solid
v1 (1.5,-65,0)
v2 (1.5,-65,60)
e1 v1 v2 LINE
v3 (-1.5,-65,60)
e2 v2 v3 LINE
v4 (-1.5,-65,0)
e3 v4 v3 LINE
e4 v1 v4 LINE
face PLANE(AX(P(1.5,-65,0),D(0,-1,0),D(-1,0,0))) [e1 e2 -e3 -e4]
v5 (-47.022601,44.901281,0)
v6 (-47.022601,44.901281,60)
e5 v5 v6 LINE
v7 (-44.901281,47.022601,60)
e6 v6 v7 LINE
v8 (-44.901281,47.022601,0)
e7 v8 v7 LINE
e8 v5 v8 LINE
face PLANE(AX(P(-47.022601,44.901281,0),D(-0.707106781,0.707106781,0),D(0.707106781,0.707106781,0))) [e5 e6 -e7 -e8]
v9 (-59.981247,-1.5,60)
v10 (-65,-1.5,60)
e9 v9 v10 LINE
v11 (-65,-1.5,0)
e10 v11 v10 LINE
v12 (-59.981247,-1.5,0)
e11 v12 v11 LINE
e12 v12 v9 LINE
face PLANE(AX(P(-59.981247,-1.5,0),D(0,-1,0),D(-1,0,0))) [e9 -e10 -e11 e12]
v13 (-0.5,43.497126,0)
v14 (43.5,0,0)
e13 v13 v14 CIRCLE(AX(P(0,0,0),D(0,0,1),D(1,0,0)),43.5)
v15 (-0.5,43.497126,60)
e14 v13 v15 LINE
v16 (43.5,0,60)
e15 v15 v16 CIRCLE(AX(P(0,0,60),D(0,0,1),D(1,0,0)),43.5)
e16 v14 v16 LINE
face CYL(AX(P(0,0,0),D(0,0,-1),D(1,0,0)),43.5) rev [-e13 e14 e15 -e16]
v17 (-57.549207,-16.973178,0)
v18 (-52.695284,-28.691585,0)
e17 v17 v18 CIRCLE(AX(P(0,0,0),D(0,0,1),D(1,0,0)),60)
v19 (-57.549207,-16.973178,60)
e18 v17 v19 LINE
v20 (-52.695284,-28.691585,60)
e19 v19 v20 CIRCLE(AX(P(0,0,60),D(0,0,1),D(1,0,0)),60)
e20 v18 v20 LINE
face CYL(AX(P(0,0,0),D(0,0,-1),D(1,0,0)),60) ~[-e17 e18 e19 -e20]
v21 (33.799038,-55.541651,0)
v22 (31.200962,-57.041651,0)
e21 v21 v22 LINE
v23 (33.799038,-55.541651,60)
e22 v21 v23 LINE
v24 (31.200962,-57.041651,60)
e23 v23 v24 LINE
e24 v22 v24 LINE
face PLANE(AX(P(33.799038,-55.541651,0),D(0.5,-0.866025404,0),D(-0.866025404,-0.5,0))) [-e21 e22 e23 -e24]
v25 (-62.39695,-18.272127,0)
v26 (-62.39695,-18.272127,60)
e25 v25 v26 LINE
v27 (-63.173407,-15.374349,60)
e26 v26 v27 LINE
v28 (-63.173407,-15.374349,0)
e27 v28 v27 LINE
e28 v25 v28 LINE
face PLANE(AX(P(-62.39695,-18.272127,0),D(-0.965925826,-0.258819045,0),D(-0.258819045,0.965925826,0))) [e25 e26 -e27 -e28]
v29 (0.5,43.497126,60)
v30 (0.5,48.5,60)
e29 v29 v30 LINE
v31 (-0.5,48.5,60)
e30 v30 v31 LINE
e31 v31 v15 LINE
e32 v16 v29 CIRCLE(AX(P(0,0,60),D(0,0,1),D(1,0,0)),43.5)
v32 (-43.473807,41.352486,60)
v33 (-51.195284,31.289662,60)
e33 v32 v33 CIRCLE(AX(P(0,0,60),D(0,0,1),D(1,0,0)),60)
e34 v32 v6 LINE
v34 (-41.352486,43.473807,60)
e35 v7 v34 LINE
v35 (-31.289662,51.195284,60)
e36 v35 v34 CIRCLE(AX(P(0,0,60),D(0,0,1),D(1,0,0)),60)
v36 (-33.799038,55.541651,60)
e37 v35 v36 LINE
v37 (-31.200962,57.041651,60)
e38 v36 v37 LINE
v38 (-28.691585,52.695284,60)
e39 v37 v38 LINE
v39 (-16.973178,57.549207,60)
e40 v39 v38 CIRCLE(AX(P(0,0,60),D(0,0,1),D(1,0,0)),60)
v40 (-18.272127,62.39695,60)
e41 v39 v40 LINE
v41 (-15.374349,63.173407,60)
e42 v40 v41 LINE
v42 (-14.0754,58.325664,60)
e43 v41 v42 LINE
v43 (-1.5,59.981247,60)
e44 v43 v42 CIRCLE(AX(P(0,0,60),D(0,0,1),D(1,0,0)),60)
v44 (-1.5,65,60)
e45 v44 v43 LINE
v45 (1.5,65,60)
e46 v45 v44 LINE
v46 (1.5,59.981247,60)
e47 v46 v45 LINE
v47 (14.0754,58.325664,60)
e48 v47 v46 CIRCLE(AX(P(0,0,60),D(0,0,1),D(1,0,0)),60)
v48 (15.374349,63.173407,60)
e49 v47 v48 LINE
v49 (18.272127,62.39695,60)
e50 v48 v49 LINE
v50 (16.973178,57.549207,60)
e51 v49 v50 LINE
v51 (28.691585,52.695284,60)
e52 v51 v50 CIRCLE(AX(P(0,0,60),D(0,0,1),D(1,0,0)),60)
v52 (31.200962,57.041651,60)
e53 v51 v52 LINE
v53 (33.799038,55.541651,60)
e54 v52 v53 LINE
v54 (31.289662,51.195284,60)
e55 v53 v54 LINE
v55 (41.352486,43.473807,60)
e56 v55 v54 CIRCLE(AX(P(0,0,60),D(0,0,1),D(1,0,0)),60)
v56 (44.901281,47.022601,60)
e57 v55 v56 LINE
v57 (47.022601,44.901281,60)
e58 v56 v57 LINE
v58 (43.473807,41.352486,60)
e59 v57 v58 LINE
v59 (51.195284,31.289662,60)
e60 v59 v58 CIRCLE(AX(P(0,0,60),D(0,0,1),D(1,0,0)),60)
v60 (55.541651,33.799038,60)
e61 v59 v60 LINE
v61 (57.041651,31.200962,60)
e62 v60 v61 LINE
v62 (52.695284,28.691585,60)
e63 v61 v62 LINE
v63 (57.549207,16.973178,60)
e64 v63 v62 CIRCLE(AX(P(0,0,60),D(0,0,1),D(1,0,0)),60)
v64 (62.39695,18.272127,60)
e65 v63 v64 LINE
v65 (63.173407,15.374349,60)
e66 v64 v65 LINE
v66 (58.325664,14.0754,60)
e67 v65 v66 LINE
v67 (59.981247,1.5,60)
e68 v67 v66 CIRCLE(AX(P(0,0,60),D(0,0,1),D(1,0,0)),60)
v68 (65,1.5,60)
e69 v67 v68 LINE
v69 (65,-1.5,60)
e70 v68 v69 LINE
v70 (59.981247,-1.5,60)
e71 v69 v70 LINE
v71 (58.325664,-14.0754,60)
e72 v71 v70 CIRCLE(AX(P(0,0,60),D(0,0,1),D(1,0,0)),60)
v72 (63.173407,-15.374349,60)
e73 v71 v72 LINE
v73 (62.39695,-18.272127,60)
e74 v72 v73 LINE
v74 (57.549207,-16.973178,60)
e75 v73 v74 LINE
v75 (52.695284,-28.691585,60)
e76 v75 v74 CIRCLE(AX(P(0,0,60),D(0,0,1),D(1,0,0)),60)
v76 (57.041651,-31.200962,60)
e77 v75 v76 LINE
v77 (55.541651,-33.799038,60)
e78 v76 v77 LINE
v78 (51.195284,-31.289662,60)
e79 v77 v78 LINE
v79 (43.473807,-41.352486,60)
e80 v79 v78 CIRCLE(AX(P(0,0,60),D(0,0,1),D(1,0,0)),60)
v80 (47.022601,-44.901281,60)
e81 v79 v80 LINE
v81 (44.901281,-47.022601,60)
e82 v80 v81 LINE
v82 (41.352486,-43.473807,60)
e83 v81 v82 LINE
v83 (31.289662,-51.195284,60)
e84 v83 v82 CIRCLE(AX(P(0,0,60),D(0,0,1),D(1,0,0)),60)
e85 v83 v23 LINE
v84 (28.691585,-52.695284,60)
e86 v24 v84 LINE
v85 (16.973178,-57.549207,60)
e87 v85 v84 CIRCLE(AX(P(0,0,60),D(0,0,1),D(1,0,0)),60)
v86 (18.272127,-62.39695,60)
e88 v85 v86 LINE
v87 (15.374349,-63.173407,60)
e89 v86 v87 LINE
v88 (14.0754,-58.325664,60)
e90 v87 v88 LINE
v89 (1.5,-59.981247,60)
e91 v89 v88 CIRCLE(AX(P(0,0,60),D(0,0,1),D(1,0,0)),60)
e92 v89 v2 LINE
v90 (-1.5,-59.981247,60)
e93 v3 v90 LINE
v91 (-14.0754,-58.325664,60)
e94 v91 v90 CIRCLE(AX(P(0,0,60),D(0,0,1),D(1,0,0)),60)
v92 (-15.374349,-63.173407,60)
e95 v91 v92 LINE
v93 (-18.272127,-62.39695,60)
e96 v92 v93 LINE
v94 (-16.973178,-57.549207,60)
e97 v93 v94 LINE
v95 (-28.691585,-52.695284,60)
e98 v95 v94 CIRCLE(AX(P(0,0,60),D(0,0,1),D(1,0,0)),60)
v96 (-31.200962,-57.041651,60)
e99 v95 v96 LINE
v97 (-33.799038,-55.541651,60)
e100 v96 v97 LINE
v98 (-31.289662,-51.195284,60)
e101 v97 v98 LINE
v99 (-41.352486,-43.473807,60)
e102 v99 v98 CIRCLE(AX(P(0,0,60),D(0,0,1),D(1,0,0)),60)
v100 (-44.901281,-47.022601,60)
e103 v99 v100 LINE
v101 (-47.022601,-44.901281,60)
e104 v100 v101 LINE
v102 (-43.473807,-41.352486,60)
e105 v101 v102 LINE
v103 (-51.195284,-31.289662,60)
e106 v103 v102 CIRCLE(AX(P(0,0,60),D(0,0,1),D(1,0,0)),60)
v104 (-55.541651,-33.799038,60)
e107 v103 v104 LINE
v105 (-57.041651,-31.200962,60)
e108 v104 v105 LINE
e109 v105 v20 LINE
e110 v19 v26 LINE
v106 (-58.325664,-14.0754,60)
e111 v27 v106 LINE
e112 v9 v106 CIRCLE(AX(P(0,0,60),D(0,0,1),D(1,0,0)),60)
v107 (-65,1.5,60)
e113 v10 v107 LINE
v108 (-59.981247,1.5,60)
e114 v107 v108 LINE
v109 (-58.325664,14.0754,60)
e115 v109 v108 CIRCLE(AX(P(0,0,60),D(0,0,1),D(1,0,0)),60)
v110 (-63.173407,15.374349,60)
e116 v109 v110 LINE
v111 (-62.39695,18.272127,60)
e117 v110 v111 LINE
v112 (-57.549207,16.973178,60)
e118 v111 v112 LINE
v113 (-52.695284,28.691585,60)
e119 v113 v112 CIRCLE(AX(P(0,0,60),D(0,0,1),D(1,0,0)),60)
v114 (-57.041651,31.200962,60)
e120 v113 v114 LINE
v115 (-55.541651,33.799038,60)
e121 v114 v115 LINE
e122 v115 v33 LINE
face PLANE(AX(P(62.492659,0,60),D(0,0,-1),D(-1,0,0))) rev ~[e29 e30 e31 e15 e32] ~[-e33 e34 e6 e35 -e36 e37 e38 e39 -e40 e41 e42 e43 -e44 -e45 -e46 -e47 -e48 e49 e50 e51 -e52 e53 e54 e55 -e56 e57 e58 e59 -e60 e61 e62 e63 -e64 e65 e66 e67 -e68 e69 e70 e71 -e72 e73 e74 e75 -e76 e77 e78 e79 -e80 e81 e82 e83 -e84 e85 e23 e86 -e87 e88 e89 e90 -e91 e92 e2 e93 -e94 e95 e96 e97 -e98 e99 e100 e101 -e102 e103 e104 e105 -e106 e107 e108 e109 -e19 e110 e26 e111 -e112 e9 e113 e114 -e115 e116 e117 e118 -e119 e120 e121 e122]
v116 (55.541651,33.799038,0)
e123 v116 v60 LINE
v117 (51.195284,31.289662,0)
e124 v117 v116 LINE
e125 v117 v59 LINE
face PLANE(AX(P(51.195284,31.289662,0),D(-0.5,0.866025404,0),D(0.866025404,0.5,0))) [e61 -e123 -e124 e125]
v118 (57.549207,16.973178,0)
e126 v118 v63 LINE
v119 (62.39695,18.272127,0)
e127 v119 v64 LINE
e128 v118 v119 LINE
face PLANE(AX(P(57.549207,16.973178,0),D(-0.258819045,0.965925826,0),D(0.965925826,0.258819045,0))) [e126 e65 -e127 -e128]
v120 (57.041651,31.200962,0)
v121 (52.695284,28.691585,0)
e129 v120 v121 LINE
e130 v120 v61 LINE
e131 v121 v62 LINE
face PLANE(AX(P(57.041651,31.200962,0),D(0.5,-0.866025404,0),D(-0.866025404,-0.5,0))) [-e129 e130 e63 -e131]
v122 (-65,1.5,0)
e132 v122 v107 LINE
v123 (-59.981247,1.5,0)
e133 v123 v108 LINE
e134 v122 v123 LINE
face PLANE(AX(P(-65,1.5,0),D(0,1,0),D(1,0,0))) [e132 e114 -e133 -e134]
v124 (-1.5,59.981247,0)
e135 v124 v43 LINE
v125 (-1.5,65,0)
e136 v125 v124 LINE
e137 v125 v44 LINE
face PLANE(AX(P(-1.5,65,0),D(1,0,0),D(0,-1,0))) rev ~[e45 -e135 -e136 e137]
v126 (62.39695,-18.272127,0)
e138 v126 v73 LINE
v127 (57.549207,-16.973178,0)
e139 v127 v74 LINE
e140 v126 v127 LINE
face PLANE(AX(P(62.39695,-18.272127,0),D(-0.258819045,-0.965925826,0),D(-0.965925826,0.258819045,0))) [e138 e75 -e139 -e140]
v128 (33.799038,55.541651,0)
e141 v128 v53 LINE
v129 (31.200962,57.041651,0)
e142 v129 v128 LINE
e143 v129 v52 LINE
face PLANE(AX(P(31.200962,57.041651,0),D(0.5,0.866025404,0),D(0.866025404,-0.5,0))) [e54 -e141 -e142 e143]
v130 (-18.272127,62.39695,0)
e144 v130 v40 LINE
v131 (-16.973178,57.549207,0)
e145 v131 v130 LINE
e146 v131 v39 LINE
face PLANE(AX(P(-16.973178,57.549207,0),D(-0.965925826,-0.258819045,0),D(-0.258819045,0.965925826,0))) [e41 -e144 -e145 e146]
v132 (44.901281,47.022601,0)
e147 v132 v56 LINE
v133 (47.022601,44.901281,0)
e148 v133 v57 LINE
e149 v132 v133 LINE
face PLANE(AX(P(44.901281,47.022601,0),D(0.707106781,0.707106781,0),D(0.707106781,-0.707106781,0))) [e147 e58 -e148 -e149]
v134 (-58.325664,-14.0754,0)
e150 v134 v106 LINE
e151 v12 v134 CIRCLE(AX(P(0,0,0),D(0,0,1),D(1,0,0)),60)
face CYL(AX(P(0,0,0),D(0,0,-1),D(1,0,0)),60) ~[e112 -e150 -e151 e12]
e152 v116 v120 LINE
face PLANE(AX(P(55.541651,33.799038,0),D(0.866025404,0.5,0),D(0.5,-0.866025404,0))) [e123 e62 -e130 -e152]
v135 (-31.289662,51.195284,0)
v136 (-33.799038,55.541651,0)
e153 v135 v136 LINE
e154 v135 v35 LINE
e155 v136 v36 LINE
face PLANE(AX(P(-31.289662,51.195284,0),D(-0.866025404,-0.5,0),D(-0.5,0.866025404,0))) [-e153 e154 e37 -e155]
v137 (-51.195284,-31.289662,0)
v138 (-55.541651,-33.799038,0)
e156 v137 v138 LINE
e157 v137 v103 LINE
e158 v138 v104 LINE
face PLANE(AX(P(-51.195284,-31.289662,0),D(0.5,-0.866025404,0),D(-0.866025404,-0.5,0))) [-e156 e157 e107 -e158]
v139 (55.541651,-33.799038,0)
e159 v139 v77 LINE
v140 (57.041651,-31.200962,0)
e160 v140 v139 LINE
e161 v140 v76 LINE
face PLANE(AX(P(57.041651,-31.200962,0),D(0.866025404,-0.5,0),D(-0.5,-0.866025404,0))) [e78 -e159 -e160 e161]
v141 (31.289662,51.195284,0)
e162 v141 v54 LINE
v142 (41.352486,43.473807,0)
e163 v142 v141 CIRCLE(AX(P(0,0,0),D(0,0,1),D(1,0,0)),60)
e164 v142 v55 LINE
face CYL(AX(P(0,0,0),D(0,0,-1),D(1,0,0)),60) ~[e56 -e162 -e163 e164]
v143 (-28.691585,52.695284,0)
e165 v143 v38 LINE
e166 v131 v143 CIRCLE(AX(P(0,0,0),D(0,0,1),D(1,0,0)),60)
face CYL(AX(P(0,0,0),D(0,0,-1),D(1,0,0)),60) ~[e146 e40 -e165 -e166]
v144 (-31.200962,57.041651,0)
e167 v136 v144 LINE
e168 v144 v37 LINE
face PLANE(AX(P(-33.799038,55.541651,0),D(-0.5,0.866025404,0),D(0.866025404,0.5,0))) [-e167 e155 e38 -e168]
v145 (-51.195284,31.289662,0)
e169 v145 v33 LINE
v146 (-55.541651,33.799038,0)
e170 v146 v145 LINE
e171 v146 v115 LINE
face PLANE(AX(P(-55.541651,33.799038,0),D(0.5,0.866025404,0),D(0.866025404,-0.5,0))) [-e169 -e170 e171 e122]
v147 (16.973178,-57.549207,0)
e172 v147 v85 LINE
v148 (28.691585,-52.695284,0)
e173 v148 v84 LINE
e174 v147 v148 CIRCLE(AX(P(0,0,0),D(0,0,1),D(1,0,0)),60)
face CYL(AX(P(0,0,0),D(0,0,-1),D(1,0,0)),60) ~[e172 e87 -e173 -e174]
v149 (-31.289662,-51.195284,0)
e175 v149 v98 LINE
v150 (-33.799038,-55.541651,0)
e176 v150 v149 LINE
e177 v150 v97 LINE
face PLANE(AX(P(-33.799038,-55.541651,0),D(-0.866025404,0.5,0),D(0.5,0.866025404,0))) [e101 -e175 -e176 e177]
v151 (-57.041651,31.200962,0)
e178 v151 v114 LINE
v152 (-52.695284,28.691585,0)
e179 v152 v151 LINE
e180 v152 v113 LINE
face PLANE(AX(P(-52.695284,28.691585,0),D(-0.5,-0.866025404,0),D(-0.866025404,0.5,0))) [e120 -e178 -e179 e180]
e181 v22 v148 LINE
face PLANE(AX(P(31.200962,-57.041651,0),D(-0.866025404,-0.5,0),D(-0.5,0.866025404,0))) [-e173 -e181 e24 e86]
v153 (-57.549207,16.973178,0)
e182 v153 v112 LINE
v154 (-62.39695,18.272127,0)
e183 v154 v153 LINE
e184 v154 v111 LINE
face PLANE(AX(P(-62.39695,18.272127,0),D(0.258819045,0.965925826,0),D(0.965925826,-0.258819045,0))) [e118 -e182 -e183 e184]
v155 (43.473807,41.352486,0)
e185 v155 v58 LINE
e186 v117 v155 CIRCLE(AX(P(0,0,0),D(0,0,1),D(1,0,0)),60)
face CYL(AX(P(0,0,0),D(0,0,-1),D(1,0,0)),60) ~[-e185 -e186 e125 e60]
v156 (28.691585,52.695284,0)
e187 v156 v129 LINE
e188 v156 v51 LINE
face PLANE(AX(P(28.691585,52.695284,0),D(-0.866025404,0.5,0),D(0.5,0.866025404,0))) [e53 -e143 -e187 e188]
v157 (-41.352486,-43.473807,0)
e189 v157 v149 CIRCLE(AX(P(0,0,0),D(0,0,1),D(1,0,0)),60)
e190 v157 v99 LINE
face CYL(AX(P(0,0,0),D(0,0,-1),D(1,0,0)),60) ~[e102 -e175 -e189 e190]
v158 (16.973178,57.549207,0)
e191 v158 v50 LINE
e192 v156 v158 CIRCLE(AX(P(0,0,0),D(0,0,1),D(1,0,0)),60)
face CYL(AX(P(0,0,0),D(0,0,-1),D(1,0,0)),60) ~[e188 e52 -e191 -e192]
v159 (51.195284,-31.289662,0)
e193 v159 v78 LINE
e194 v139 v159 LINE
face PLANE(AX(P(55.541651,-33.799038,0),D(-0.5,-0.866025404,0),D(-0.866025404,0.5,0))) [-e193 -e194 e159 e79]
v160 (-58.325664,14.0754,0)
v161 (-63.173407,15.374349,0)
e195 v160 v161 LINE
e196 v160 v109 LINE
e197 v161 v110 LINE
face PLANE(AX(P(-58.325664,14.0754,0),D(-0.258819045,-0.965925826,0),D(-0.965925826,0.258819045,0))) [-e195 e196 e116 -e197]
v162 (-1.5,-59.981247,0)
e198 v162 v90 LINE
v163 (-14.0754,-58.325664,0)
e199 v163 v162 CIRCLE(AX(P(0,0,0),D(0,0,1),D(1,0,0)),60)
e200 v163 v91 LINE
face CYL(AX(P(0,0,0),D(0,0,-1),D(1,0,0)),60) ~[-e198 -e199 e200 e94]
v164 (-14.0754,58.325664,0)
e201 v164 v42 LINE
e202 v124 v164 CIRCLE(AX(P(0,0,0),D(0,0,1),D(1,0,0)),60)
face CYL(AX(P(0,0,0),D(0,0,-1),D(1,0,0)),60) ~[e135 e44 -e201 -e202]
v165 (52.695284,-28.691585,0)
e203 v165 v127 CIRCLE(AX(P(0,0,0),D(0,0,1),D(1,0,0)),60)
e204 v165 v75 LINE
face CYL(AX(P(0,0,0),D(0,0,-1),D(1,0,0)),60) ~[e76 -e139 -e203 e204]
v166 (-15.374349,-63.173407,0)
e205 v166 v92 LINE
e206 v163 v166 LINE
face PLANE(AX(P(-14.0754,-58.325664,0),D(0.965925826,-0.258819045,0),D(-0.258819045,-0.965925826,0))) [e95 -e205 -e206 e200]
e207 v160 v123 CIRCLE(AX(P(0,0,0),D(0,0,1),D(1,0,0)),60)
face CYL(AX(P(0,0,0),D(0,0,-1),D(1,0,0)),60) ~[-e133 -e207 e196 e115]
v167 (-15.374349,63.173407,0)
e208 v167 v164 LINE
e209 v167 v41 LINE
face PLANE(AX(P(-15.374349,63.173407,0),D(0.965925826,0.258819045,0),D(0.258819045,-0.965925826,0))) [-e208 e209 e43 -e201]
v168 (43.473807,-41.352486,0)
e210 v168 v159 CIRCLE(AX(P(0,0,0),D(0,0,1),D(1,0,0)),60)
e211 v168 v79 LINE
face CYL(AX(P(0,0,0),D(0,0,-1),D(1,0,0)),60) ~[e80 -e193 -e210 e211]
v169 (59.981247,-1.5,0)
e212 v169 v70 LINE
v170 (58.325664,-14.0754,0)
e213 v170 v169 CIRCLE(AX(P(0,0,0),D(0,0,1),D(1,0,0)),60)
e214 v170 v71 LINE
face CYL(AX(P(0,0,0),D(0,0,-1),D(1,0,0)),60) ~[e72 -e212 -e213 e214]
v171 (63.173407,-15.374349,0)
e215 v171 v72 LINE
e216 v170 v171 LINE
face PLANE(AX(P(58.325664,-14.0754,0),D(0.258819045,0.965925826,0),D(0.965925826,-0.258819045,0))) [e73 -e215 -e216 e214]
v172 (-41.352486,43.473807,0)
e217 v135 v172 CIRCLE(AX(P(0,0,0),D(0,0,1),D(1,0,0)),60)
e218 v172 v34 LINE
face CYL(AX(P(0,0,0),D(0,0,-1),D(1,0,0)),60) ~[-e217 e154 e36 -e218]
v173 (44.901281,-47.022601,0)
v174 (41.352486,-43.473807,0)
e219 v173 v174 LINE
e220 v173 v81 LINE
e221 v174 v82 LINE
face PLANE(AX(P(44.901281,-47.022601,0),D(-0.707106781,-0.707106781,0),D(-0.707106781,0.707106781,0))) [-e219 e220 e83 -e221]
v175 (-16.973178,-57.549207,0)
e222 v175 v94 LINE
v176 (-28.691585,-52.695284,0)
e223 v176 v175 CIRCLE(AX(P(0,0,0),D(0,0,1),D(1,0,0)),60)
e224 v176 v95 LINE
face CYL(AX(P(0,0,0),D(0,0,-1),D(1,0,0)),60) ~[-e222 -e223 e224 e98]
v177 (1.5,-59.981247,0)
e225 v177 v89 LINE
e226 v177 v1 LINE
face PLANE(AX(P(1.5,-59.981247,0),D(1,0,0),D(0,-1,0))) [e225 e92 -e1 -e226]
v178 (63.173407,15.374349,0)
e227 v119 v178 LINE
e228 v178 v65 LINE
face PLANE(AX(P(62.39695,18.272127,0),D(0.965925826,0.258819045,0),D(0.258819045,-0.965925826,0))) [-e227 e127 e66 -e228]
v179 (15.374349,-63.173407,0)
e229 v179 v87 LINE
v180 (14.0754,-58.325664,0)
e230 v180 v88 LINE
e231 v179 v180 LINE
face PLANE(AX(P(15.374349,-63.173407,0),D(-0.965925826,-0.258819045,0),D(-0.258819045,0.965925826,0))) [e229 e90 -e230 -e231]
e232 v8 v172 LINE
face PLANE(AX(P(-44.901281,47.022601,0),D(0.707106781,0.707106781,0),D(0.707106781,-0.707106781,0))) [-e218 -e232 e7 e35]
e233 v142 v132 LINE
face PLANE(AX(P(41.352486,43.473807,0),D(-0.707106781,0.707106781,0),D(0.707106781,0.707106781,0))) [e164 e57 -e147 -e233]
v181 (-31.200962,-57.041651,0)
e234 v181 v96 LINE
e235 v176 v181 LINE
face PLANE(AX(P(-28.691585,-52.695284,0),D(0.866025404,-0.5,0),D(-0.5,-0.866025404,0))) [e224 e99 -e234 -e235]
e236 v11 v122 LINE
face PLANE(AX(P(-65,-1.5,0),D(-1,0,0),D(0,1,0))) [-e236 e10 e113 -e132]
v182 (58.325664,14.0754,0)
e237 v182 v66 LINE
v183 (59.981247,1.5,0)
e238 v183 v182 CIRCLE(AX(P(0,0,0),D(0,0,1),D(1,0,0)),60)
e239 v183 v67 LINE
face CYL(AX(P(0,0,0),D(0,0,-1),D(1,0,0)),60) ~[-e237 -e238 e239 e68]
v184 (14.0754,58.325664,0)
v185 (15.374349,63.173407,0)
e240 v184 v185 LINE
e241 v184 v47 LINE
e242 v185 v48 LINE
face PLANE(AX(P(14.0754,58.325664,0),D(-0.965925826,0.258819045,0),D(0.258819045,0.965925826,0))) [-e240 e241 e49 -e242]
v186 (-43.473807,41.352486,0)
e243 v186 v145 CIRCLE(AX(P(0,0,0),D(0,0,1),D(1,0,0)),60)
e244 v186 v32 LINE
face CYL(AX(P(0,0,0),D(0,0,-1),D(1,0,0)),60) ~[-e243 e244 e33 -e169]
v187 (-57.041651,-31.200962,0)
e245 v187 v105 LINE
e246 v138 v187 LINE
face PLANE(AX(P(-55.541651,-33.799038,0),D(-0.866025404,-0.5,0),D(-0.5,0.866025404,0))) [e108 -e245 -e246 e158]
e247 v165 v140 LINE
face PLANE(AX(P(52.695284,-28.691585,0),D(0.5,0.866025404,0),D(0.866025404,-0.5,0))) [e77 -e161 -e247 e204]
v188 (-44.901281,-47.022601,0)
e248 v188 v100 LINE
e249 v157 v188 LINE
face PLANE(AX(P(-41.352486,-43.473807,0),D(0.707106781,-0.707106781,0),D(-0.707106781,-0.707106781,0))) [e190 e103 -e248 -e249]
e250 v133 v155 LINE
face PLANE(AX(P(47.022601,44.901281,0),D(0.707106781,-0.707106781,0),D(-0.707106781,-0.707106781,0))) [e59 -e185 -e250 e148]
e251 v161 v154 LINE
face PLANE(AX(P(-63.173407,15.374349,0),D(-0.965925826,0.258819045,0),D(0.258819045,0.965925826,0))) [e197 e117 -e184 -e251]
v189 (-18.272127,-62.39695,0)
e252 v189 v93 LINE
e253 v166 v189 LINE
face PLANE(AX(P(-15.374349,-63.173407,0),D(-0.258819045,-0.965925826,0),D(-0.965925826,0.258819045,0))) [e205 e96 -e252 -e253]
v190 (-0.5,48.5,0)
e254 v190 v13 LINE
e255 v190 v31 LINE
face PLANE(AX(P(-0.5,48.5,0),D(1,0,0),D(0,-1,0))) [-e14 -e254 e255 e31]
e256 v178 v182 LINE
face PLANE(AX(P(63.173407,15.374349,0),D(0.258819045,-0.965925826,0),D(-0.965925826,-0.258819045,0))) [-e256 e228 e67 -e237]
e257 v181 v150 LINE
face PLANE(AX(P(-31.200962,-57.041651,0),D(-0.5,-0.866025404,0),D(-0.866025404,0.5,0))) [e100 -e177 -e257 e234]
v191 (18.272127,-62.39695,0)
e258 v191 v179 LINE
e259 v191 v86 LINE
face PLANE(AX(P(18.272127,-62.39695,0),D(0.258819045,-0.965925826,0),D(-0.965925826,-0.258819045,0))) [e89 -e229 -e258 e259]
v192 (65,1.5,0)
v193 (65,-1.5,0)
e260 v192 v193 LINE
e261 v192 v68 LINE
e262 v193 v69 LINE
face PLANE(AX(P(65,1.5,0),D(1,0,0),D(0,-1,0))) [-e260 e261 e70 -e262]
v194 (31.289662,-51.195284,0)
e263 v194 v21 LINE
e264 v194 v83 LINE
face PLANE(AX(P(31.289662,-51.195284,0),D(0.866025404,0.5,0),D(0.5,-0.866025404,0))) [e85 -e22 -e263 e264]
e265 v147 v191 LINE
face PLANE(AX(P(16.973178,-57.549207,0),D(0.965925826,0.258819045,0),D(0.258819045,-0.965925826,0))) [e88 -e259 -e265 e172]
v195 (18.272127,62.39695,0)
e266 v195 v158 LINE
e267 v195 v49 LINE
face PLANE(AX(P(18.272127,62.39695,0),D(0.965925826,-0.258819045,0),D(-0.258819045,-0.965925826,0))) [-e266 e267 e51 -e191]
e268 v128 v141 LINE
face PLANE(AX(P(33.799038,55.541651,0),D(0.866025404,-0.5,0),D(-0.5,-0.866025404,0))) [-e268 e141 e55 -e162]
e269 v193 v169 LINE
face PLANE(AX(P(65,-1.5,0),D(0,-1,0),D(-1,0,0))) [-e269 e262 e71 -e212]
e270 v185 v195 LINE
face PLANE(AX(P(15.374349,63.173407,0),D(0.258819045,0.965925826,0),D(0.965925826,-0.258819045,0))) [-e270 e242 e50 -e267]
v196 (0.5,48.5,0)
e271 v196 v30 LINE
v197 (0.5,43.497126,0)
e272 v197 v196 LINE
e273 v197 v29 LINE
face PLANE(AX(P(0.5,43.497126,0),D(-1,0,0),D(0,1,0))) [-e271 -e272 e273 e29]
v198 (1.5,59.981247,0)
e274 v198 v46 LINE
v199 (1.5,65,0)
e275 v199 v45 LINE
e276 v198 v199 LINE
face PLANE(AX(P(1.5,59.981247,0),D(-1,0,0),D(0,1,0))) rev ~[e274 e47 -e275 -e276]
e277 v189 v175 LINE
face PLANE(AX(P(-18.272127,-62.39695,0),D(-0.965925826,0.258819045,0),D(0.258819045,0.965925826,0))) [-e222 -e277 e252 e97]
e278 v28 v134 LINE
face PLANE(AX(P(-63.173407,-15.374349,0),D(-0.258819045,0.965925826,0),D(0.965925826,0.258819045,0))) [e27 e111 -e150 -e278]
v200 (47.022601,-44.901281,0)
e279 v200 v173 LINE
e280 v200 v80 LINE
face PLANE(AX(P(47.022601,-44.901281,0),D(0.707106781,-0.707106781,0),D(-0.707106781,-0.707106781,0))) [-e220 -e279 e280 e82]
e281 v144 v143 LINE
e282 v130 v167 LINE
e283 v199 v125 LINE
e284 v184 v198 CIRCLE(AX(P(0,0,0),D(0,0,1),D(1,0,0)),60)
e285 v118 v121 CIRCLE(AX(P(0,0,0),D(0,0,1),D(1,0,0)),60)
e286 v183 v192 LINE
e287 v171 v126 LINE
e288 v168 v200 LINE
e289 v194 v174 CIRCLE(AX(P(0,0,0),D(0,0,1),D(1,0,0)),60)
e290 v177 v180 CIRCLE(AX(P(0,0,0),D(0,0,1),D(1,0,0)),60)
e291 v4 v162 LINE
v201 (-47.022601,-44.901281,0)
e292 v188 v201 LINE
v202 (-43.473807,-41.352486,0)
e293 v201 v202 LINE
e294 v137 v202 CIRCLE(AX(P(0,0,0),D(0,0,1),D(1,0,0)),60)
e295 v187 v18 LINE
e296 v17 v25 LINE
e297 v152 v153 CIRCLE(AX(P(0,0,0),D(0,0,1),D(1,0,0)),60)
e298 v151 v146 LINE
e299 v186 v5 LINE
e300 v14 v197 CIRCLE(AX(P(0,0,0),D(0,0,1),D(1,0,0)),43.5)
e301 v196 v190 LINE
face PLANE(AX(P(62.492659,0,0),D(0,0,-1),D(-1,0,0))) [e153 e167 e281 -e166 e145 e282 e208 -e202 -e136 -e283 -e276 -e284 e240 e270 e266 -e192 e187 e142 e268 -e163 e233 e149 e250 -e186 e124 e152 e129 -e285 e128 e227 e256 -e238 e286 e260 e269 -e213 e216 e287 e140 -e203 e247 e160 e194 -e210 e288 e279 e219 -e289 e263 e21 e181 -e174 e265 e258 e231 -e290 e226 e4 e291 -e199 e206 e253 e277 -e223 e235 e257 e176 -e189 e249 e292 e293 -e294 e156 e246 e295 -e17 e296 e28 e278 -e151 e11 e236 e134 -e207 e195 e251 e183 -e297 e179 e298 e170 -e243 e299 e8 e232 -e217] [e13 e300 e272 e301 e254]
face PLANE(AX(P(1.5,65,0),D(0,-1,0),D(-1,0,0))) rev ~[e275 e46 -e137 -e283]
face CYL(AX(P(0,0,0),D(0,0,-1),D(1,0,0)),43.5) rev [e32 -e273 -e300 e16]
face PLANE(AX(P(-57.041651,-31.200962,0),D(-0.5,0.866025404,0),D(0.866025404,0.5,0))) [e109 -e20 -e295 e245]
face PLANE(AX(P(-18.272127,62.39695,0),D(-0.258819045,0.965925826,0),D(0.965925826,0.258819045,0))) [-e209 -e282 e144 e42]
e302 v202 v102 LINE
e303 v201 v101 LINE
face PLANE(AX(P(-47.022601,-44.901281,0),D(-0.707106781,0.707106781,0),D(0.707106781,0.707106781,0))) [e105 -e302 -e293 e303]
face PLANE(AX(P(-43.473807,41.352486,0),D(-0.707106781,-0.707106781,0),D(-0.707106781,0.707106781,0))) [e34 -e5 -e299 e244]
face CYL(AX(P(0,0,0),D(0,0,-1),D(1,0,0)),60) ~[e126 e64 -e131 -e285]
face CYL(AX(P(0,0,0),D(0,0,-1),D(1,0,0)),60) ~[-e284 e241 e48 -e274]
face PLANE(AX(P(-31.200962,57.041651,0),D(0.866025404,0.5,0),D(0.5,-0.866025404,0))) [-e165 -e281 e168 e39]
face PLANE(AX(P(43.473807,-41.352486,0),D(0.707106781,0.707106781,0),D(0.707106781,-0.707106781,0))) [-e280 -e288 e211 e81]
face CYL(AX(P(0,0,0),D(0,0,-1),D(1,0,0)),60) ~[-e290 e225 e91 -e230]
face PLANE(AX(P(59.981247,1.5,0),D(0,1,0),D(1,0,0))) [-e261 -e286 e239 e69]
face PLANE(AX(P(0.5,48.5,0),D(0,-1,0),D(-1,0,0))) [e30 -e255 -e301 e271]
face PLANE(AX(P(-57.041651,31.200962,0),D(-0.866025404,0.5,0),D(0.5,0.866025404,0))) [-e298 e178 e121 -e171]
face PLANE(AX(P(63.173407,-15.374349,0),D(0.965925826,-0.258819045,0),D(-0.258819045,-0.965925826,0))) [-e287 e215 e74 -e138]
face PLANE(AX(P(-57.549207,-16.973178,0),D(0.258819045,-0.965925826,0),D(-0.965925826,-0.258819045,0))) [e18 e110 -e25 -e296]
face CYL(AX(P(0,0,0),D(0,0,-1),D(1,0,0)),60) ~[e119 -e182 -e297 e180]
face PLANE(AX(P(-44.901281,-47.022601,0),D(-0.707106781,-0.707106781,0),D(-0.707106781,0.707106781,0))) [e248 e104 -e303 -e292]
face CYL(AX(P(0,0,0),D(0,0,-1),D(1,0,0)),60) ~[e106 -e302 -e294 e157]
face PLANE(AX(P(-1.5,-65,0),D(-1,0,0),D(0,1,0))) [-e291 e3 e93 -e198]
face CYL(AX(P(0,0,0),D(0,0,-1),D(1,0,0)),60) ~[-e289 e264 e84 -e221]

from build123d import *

# Parameters (mm, degrees)
SKETCH1_R           = 60
SKETCH1_R_2         = 43.5
EXTRUSION1_DEPTH    = 60
EXTRUSION3_START    = -60
EXTRUSION3_DEPTH    = 60
BOSS_EXTRUDE1_START = -60
BOSS_EXTRUDE1_DEPTH = 60


with BuildPart() as part:
    # Sketch1 → Extrusion1 (new body)
    with BuildSketch(Plane.XY):
        Circle(SKETCH1_R)
        Circle(SKETCH1_R_2, mode=Mode.SUBTRACT)
    extrude(amount=EXTRUSION1_DEPTH)

    # Sketch3 → Extrusion3 (cut)
    with BuildSketch(Plane.XY.offset(60).offset(EXTRUSION3_START)):
        with BuildLine():
            Line((-0.5, 48.5), (-0.5, 43.497126342))
            ThreePointArc((-0.5, 43.497126342), (0, 43.5), (0.5, 43.497126342))
            Line((0.5, 43.497126342), (0.5, 48.5))
            Line((0.5, 48.5), (-0.5, 48.5))
        make_face()
    extrude(amount=EXTRUSION3_DEPTH, mode=Mode.SUBTRACT)

    # Sketch4 → Boss-Extrude1 (add)
    with BuildSketch(Plane.XY.offset(60).offset(BOSS_EXTRUDE1_START)):
        with BuildLine():
            Line((14.075400351, 58.325664205), (15.374349192, 63.173407276))
            Line((15.374349192, 63.173407276), (18.272126671, 62.396950141))
            Line((18.272126671, 62.396950141), (16.97317783, 57.54920707))
            ThreePointArc((16.97317783, 57.54920707), (15.529142706, 57.955549577), (14.075400351, 58.325664205))
        make_face()
        with BuildLine():
            Line((1.5, 59.981247069), (1.5, 65))
            Line((1.5, 65), (-1.5, 65))
            Line((-1.5, 65), (-1.5, 59.981247069))
            ThreePointArc((-1.5, 59.981247069), (0, 60), (1.5, 59.981247069))
        make_face()
        with BuildLine():
            Line((28.691585429, 52.695283713), (31.200961894, 57.041651246))
            Line((31.200961894, 57.041651246), (33.799038106, 55.541651246))
            Line((33.799038106, 55.541651246), (31.28966164, 51.195283713))
            ThreePointArc((31.28966164, 51.195283713), (30, 51.961524227), (28.691585429, 52.695283713))
        make_face()
        with BuildLine():
            Line((41.352486375, 43.473806719), (44.901280605, 47.022600949))
            Line((44.901280605, 47.022600949), (47.022600949, 44.901280605))
            Line((47.022600949, 44.901280605), (43.473806719, 41.352486375))
            ThreePointArc((43.473806719, 41.352486375), (42.426406871, 42.426406871), (41.352486375, 43.473806719))
        make_face()
        with BuildLine():
            Line((51.195283713, 31.28966164), (55.541651246, 33.799038106))
            Line((55.541651246, 33.799038106), (57.041651246, 31.200961894))
            Line((57.041651246, 31.200961894), (52.695283713, 28.691585429))
            ThreePointArc((52.695283713, 28.691585429), (51.961524227, 30), (51.195283713, 31.28966164))
        make_face()
        with BuildLine():
            Line((57.54920707, 16.97317783), (62.396950141, 18.272126671))
            Line((62.396950141, 18.272126671), (63.173407276, 15.374349192))
            Line((63.173407276, 15.374349192), (58.325664205, 14.075400351))
            ThreePointArc((58.325664205, 14.075400351), (57.955549577, 15.529142706), (57.54920707, 16.97317783))
        make_face()
        with BuildLine():
            Line((59.981247069, 1.5), (65, 1.5))
            Line((65, 1.5), (65, -1.5))
            Line((65, -1.5), (59.981247069, -1.5))
            ThreePointArc((59.981247069, -1.5), (60, 0), (59.981247069, 1.5))
        make_face()
        with BuildLine():
            Line((58.325664205, -14.075400351), (63.173407276, -15.374349192))
            Line((63.173407276, -15.374349192), (62.396950141, -18.272126671))
            Line((62.396950141, -18.272126671), (57.54920707, -16.97317783))
            ThreePointArc((57.54920707, -16.97317783), (57.955549577, -15.529142706), (58.325664205, -14.075400351))
        make_face()
        with BuildLine():
            Line((52.695283713, -28.691585429), (57.041651246, -31.200961894))
            Line((57.041651246, -31.200961894), (55.541651246, -33.799038106))
            Line((55.541651246, -33.799038106), (51.195283713, -31.28966164))
            ThreePointArc((51.195283713, -31.28966164), (51.961524227, -30), (52.695283713, -28.691585429))
        make_face()
        with BuildLine():
            Line((43.473806719, -41.352486375), (47.022600949, -44.901280605))
            Line((47.022600949, -44.901280605), (44.901280605, -47.022600949))
            Line((44.901280605, -47.022600949), (41.352486375, -43.473806719))
            ThreePointArc((41.352486375, -43.473806719), (42.426406871, -42.426406871), (43.473806719, -41.352486375))
        make_face()
        with BuildLine():
            Line((31.28966164, -51.195283713), (33.799038106, -55.541651246))
            Line((33.799038106, -55.541651246), (31.200961894, -57.041651246))
            Line((31.200961894, -57.041651246), (28.691585429, -52.695283713))
            ThreePointArc((28.691585429, -52.695283713), (30, -51.961524227), (31.28966164, -51.195283713))
        make_face()
        with BuildLine():
            Line((16.97317783, -57.54920707), (18.272126671, -62.396950141))
            Line((18.272126671, -62.396950141), (15.374349192, -63.173407276))
            Line((15.374349192, -63.173407276), (14.075400351, -58.325664205))
            ThreePointArc((14.075400351, -58.325664205), (15.529142706, -57.955549577), (16.97317783, -57.54920707))
        make_face()
        with BuildLine():
            Line((1.5, -59.981247069), (1.5, -65))
            Line((1.5, -65), (-1.5, -65))
            Line((-1.5, -65), (-1.5, -59.981247069))
            ThreePointArc((-1.5, -59.981247069), (0, -60), (1.5, -59.981247069))
        make_face()
        with BuildLine():
            Line((-14.075400351, -58.325664205), (-15.374349192, -63.173407276))
            Line((-15.374349192, -63.173407276), (-18.272126671, -62.396950141))
            Line((-18.272126671, -62.396950141), (-16.97317783, -57.54920707))
            ThreePointArc((-16.97317783, -57.54920707), (-15.529142706, -57.955549577), (-14.075400351, -58.325664205))
        make_face()
        with BuildLine():
            Line((-28.691585429, -52.695283713), (-31.200961894, -57.041651246))
            Line((-31.200961894, -57.041651246), (-33.799038106, -55.541651246))
            Line((-33.799038106, -55.541651246), (-31.28966164, -51.195283713))
            ThreePointArc((-31.28966164, -51.195283713), (-30, -51.961524227), (-28.691585429, -52.695283713))
        make_face()
        with BuildLine():
            Line((-41.352486375, -43.473806719), (-44.901280605, -47.022600949))
            Line((-44.901280605, -47.022600949), (-47.022600949, -44.901280605))
            Line((-47.022600949, -44.901280605), (-43.473806719, -41.352486375))
            ThreePointArc((-43.473806719, -41.352486375), (-42.426406871, -42.426406871), (-41.352486375, -43.473806719))
        make_face()
        with BuildLine():
            Line((-51.195283713, -31.28966164), (-55.541651246, -33.799038106))
            Line((-55.541651246, -33.799038106), (-57.041651246, -31.200961894))
            Line((-57.041651246, -31.200961894), (-52.695283713, -28.691585429))
            ThreePointArc((-52.695283713, -28.691585429), (-51.961524227, -30), (-51.195283713, -31.28966164))
        make_face()
        with BuildLine():
            Line((-57.54920707, -16.97317783), (-62.396950141, -18.272126671))
            Line((-62.396950141, -18.272126671), (-63.173407276, -15.374349192))
            Line((-63.173407276, -15.374349192), (-58.325664205, -14.075400351))
            ThreePointArc((-58.325664205, -14.075400351), (-57.955549577, -15.529142706), (-57.54920707, -16.97317783))
        make_face()
        with BuildLine():
            Line((-59.981247069, -1.5), (-65, -1.5))
            Line((-65, -1.5), (-65, 1.5))
            Line((-65, 1.5), (-59.981247069, 1.5))
            ThreePointArc((-59.981247069, 1.5), (-60, 0), (-59.981247069, -1.5))
        make_face()
        with BuildLine():
            Line((-58.325664205, 14.075400351), (-63.173407276, 15.374349192))
            Line((-63.173407276, 15.374349192), (-62.396950141, 18.272126671))
            Line((-62.396950141, 18.272126671), (-57.54920707, 16.97317783))
            ThreePointArc((-57.54920707, 16.97317783), (-57.955549577, 15.529142706), (-58.325664205, 14.075400351))
        make_face()
        with BuildLine():
            Line((-52.695283713, 28.691585429), (-57.041651246, 31.200961894))
            Line((-57.041651246, 31.200961894), (-55.541651246, 33.799038106))
            Line((-55.541651246, 33.799038106), (-51.195283713, 31.28966164))
            ThreePointArc((-51.195283713, 31.28966164), (-51.961524227, 30), (-52.695283713, 28.691585429))
        make_face()
        with BuildLine():
            Line((-43.473806719, 41.352486375), (-47.022600949, 44.901280605))
            Line((-47.022600949, 44.901280605), (-44.901280605, 47.022600949))
            Line((-44.901280605, 47.022600949), (-41.352486375, 43.473806719))
            ThreePointArc((-41.352486375, 43.473806719), (-42.426406871, 42.426406871), (-43.473806719, 41.352486375))
        make_face()
        with BuildLine():
            Line((-31.28966164, 51.195283713), (-33.799038106, 55.541651246))
            Line((-33.799038106, 55.541651246), (-31.200961894, 57.041651246))
            Line((-31.200961894, 57.041651246), (-28.691585429, 52.695283713))
            ThreePointArc((-28.691585429, 52.695283713), (-30, 51.961524227), (-31.28966164, 51.195283713))
        make_face()
        with BuildLine():
            Line((-16.97317783, 57.54920707), (-18.272126671, 62.396950141))
            Line((-18.272126671, 62.396950141), (-15.374349192, 63.173407276))
            Line((-15.374349192, 63.173407276), (-14.075400351, 58.325664205))
            ThreePointArc((-14.075400351, 58.325664205), (-15.529142706, 57.955549577), (-16.97317783, 57.54920707))
        make_face()
    extrude(amount=BOSS_EXTRUDE1_DEPTH)


solid = part.part
